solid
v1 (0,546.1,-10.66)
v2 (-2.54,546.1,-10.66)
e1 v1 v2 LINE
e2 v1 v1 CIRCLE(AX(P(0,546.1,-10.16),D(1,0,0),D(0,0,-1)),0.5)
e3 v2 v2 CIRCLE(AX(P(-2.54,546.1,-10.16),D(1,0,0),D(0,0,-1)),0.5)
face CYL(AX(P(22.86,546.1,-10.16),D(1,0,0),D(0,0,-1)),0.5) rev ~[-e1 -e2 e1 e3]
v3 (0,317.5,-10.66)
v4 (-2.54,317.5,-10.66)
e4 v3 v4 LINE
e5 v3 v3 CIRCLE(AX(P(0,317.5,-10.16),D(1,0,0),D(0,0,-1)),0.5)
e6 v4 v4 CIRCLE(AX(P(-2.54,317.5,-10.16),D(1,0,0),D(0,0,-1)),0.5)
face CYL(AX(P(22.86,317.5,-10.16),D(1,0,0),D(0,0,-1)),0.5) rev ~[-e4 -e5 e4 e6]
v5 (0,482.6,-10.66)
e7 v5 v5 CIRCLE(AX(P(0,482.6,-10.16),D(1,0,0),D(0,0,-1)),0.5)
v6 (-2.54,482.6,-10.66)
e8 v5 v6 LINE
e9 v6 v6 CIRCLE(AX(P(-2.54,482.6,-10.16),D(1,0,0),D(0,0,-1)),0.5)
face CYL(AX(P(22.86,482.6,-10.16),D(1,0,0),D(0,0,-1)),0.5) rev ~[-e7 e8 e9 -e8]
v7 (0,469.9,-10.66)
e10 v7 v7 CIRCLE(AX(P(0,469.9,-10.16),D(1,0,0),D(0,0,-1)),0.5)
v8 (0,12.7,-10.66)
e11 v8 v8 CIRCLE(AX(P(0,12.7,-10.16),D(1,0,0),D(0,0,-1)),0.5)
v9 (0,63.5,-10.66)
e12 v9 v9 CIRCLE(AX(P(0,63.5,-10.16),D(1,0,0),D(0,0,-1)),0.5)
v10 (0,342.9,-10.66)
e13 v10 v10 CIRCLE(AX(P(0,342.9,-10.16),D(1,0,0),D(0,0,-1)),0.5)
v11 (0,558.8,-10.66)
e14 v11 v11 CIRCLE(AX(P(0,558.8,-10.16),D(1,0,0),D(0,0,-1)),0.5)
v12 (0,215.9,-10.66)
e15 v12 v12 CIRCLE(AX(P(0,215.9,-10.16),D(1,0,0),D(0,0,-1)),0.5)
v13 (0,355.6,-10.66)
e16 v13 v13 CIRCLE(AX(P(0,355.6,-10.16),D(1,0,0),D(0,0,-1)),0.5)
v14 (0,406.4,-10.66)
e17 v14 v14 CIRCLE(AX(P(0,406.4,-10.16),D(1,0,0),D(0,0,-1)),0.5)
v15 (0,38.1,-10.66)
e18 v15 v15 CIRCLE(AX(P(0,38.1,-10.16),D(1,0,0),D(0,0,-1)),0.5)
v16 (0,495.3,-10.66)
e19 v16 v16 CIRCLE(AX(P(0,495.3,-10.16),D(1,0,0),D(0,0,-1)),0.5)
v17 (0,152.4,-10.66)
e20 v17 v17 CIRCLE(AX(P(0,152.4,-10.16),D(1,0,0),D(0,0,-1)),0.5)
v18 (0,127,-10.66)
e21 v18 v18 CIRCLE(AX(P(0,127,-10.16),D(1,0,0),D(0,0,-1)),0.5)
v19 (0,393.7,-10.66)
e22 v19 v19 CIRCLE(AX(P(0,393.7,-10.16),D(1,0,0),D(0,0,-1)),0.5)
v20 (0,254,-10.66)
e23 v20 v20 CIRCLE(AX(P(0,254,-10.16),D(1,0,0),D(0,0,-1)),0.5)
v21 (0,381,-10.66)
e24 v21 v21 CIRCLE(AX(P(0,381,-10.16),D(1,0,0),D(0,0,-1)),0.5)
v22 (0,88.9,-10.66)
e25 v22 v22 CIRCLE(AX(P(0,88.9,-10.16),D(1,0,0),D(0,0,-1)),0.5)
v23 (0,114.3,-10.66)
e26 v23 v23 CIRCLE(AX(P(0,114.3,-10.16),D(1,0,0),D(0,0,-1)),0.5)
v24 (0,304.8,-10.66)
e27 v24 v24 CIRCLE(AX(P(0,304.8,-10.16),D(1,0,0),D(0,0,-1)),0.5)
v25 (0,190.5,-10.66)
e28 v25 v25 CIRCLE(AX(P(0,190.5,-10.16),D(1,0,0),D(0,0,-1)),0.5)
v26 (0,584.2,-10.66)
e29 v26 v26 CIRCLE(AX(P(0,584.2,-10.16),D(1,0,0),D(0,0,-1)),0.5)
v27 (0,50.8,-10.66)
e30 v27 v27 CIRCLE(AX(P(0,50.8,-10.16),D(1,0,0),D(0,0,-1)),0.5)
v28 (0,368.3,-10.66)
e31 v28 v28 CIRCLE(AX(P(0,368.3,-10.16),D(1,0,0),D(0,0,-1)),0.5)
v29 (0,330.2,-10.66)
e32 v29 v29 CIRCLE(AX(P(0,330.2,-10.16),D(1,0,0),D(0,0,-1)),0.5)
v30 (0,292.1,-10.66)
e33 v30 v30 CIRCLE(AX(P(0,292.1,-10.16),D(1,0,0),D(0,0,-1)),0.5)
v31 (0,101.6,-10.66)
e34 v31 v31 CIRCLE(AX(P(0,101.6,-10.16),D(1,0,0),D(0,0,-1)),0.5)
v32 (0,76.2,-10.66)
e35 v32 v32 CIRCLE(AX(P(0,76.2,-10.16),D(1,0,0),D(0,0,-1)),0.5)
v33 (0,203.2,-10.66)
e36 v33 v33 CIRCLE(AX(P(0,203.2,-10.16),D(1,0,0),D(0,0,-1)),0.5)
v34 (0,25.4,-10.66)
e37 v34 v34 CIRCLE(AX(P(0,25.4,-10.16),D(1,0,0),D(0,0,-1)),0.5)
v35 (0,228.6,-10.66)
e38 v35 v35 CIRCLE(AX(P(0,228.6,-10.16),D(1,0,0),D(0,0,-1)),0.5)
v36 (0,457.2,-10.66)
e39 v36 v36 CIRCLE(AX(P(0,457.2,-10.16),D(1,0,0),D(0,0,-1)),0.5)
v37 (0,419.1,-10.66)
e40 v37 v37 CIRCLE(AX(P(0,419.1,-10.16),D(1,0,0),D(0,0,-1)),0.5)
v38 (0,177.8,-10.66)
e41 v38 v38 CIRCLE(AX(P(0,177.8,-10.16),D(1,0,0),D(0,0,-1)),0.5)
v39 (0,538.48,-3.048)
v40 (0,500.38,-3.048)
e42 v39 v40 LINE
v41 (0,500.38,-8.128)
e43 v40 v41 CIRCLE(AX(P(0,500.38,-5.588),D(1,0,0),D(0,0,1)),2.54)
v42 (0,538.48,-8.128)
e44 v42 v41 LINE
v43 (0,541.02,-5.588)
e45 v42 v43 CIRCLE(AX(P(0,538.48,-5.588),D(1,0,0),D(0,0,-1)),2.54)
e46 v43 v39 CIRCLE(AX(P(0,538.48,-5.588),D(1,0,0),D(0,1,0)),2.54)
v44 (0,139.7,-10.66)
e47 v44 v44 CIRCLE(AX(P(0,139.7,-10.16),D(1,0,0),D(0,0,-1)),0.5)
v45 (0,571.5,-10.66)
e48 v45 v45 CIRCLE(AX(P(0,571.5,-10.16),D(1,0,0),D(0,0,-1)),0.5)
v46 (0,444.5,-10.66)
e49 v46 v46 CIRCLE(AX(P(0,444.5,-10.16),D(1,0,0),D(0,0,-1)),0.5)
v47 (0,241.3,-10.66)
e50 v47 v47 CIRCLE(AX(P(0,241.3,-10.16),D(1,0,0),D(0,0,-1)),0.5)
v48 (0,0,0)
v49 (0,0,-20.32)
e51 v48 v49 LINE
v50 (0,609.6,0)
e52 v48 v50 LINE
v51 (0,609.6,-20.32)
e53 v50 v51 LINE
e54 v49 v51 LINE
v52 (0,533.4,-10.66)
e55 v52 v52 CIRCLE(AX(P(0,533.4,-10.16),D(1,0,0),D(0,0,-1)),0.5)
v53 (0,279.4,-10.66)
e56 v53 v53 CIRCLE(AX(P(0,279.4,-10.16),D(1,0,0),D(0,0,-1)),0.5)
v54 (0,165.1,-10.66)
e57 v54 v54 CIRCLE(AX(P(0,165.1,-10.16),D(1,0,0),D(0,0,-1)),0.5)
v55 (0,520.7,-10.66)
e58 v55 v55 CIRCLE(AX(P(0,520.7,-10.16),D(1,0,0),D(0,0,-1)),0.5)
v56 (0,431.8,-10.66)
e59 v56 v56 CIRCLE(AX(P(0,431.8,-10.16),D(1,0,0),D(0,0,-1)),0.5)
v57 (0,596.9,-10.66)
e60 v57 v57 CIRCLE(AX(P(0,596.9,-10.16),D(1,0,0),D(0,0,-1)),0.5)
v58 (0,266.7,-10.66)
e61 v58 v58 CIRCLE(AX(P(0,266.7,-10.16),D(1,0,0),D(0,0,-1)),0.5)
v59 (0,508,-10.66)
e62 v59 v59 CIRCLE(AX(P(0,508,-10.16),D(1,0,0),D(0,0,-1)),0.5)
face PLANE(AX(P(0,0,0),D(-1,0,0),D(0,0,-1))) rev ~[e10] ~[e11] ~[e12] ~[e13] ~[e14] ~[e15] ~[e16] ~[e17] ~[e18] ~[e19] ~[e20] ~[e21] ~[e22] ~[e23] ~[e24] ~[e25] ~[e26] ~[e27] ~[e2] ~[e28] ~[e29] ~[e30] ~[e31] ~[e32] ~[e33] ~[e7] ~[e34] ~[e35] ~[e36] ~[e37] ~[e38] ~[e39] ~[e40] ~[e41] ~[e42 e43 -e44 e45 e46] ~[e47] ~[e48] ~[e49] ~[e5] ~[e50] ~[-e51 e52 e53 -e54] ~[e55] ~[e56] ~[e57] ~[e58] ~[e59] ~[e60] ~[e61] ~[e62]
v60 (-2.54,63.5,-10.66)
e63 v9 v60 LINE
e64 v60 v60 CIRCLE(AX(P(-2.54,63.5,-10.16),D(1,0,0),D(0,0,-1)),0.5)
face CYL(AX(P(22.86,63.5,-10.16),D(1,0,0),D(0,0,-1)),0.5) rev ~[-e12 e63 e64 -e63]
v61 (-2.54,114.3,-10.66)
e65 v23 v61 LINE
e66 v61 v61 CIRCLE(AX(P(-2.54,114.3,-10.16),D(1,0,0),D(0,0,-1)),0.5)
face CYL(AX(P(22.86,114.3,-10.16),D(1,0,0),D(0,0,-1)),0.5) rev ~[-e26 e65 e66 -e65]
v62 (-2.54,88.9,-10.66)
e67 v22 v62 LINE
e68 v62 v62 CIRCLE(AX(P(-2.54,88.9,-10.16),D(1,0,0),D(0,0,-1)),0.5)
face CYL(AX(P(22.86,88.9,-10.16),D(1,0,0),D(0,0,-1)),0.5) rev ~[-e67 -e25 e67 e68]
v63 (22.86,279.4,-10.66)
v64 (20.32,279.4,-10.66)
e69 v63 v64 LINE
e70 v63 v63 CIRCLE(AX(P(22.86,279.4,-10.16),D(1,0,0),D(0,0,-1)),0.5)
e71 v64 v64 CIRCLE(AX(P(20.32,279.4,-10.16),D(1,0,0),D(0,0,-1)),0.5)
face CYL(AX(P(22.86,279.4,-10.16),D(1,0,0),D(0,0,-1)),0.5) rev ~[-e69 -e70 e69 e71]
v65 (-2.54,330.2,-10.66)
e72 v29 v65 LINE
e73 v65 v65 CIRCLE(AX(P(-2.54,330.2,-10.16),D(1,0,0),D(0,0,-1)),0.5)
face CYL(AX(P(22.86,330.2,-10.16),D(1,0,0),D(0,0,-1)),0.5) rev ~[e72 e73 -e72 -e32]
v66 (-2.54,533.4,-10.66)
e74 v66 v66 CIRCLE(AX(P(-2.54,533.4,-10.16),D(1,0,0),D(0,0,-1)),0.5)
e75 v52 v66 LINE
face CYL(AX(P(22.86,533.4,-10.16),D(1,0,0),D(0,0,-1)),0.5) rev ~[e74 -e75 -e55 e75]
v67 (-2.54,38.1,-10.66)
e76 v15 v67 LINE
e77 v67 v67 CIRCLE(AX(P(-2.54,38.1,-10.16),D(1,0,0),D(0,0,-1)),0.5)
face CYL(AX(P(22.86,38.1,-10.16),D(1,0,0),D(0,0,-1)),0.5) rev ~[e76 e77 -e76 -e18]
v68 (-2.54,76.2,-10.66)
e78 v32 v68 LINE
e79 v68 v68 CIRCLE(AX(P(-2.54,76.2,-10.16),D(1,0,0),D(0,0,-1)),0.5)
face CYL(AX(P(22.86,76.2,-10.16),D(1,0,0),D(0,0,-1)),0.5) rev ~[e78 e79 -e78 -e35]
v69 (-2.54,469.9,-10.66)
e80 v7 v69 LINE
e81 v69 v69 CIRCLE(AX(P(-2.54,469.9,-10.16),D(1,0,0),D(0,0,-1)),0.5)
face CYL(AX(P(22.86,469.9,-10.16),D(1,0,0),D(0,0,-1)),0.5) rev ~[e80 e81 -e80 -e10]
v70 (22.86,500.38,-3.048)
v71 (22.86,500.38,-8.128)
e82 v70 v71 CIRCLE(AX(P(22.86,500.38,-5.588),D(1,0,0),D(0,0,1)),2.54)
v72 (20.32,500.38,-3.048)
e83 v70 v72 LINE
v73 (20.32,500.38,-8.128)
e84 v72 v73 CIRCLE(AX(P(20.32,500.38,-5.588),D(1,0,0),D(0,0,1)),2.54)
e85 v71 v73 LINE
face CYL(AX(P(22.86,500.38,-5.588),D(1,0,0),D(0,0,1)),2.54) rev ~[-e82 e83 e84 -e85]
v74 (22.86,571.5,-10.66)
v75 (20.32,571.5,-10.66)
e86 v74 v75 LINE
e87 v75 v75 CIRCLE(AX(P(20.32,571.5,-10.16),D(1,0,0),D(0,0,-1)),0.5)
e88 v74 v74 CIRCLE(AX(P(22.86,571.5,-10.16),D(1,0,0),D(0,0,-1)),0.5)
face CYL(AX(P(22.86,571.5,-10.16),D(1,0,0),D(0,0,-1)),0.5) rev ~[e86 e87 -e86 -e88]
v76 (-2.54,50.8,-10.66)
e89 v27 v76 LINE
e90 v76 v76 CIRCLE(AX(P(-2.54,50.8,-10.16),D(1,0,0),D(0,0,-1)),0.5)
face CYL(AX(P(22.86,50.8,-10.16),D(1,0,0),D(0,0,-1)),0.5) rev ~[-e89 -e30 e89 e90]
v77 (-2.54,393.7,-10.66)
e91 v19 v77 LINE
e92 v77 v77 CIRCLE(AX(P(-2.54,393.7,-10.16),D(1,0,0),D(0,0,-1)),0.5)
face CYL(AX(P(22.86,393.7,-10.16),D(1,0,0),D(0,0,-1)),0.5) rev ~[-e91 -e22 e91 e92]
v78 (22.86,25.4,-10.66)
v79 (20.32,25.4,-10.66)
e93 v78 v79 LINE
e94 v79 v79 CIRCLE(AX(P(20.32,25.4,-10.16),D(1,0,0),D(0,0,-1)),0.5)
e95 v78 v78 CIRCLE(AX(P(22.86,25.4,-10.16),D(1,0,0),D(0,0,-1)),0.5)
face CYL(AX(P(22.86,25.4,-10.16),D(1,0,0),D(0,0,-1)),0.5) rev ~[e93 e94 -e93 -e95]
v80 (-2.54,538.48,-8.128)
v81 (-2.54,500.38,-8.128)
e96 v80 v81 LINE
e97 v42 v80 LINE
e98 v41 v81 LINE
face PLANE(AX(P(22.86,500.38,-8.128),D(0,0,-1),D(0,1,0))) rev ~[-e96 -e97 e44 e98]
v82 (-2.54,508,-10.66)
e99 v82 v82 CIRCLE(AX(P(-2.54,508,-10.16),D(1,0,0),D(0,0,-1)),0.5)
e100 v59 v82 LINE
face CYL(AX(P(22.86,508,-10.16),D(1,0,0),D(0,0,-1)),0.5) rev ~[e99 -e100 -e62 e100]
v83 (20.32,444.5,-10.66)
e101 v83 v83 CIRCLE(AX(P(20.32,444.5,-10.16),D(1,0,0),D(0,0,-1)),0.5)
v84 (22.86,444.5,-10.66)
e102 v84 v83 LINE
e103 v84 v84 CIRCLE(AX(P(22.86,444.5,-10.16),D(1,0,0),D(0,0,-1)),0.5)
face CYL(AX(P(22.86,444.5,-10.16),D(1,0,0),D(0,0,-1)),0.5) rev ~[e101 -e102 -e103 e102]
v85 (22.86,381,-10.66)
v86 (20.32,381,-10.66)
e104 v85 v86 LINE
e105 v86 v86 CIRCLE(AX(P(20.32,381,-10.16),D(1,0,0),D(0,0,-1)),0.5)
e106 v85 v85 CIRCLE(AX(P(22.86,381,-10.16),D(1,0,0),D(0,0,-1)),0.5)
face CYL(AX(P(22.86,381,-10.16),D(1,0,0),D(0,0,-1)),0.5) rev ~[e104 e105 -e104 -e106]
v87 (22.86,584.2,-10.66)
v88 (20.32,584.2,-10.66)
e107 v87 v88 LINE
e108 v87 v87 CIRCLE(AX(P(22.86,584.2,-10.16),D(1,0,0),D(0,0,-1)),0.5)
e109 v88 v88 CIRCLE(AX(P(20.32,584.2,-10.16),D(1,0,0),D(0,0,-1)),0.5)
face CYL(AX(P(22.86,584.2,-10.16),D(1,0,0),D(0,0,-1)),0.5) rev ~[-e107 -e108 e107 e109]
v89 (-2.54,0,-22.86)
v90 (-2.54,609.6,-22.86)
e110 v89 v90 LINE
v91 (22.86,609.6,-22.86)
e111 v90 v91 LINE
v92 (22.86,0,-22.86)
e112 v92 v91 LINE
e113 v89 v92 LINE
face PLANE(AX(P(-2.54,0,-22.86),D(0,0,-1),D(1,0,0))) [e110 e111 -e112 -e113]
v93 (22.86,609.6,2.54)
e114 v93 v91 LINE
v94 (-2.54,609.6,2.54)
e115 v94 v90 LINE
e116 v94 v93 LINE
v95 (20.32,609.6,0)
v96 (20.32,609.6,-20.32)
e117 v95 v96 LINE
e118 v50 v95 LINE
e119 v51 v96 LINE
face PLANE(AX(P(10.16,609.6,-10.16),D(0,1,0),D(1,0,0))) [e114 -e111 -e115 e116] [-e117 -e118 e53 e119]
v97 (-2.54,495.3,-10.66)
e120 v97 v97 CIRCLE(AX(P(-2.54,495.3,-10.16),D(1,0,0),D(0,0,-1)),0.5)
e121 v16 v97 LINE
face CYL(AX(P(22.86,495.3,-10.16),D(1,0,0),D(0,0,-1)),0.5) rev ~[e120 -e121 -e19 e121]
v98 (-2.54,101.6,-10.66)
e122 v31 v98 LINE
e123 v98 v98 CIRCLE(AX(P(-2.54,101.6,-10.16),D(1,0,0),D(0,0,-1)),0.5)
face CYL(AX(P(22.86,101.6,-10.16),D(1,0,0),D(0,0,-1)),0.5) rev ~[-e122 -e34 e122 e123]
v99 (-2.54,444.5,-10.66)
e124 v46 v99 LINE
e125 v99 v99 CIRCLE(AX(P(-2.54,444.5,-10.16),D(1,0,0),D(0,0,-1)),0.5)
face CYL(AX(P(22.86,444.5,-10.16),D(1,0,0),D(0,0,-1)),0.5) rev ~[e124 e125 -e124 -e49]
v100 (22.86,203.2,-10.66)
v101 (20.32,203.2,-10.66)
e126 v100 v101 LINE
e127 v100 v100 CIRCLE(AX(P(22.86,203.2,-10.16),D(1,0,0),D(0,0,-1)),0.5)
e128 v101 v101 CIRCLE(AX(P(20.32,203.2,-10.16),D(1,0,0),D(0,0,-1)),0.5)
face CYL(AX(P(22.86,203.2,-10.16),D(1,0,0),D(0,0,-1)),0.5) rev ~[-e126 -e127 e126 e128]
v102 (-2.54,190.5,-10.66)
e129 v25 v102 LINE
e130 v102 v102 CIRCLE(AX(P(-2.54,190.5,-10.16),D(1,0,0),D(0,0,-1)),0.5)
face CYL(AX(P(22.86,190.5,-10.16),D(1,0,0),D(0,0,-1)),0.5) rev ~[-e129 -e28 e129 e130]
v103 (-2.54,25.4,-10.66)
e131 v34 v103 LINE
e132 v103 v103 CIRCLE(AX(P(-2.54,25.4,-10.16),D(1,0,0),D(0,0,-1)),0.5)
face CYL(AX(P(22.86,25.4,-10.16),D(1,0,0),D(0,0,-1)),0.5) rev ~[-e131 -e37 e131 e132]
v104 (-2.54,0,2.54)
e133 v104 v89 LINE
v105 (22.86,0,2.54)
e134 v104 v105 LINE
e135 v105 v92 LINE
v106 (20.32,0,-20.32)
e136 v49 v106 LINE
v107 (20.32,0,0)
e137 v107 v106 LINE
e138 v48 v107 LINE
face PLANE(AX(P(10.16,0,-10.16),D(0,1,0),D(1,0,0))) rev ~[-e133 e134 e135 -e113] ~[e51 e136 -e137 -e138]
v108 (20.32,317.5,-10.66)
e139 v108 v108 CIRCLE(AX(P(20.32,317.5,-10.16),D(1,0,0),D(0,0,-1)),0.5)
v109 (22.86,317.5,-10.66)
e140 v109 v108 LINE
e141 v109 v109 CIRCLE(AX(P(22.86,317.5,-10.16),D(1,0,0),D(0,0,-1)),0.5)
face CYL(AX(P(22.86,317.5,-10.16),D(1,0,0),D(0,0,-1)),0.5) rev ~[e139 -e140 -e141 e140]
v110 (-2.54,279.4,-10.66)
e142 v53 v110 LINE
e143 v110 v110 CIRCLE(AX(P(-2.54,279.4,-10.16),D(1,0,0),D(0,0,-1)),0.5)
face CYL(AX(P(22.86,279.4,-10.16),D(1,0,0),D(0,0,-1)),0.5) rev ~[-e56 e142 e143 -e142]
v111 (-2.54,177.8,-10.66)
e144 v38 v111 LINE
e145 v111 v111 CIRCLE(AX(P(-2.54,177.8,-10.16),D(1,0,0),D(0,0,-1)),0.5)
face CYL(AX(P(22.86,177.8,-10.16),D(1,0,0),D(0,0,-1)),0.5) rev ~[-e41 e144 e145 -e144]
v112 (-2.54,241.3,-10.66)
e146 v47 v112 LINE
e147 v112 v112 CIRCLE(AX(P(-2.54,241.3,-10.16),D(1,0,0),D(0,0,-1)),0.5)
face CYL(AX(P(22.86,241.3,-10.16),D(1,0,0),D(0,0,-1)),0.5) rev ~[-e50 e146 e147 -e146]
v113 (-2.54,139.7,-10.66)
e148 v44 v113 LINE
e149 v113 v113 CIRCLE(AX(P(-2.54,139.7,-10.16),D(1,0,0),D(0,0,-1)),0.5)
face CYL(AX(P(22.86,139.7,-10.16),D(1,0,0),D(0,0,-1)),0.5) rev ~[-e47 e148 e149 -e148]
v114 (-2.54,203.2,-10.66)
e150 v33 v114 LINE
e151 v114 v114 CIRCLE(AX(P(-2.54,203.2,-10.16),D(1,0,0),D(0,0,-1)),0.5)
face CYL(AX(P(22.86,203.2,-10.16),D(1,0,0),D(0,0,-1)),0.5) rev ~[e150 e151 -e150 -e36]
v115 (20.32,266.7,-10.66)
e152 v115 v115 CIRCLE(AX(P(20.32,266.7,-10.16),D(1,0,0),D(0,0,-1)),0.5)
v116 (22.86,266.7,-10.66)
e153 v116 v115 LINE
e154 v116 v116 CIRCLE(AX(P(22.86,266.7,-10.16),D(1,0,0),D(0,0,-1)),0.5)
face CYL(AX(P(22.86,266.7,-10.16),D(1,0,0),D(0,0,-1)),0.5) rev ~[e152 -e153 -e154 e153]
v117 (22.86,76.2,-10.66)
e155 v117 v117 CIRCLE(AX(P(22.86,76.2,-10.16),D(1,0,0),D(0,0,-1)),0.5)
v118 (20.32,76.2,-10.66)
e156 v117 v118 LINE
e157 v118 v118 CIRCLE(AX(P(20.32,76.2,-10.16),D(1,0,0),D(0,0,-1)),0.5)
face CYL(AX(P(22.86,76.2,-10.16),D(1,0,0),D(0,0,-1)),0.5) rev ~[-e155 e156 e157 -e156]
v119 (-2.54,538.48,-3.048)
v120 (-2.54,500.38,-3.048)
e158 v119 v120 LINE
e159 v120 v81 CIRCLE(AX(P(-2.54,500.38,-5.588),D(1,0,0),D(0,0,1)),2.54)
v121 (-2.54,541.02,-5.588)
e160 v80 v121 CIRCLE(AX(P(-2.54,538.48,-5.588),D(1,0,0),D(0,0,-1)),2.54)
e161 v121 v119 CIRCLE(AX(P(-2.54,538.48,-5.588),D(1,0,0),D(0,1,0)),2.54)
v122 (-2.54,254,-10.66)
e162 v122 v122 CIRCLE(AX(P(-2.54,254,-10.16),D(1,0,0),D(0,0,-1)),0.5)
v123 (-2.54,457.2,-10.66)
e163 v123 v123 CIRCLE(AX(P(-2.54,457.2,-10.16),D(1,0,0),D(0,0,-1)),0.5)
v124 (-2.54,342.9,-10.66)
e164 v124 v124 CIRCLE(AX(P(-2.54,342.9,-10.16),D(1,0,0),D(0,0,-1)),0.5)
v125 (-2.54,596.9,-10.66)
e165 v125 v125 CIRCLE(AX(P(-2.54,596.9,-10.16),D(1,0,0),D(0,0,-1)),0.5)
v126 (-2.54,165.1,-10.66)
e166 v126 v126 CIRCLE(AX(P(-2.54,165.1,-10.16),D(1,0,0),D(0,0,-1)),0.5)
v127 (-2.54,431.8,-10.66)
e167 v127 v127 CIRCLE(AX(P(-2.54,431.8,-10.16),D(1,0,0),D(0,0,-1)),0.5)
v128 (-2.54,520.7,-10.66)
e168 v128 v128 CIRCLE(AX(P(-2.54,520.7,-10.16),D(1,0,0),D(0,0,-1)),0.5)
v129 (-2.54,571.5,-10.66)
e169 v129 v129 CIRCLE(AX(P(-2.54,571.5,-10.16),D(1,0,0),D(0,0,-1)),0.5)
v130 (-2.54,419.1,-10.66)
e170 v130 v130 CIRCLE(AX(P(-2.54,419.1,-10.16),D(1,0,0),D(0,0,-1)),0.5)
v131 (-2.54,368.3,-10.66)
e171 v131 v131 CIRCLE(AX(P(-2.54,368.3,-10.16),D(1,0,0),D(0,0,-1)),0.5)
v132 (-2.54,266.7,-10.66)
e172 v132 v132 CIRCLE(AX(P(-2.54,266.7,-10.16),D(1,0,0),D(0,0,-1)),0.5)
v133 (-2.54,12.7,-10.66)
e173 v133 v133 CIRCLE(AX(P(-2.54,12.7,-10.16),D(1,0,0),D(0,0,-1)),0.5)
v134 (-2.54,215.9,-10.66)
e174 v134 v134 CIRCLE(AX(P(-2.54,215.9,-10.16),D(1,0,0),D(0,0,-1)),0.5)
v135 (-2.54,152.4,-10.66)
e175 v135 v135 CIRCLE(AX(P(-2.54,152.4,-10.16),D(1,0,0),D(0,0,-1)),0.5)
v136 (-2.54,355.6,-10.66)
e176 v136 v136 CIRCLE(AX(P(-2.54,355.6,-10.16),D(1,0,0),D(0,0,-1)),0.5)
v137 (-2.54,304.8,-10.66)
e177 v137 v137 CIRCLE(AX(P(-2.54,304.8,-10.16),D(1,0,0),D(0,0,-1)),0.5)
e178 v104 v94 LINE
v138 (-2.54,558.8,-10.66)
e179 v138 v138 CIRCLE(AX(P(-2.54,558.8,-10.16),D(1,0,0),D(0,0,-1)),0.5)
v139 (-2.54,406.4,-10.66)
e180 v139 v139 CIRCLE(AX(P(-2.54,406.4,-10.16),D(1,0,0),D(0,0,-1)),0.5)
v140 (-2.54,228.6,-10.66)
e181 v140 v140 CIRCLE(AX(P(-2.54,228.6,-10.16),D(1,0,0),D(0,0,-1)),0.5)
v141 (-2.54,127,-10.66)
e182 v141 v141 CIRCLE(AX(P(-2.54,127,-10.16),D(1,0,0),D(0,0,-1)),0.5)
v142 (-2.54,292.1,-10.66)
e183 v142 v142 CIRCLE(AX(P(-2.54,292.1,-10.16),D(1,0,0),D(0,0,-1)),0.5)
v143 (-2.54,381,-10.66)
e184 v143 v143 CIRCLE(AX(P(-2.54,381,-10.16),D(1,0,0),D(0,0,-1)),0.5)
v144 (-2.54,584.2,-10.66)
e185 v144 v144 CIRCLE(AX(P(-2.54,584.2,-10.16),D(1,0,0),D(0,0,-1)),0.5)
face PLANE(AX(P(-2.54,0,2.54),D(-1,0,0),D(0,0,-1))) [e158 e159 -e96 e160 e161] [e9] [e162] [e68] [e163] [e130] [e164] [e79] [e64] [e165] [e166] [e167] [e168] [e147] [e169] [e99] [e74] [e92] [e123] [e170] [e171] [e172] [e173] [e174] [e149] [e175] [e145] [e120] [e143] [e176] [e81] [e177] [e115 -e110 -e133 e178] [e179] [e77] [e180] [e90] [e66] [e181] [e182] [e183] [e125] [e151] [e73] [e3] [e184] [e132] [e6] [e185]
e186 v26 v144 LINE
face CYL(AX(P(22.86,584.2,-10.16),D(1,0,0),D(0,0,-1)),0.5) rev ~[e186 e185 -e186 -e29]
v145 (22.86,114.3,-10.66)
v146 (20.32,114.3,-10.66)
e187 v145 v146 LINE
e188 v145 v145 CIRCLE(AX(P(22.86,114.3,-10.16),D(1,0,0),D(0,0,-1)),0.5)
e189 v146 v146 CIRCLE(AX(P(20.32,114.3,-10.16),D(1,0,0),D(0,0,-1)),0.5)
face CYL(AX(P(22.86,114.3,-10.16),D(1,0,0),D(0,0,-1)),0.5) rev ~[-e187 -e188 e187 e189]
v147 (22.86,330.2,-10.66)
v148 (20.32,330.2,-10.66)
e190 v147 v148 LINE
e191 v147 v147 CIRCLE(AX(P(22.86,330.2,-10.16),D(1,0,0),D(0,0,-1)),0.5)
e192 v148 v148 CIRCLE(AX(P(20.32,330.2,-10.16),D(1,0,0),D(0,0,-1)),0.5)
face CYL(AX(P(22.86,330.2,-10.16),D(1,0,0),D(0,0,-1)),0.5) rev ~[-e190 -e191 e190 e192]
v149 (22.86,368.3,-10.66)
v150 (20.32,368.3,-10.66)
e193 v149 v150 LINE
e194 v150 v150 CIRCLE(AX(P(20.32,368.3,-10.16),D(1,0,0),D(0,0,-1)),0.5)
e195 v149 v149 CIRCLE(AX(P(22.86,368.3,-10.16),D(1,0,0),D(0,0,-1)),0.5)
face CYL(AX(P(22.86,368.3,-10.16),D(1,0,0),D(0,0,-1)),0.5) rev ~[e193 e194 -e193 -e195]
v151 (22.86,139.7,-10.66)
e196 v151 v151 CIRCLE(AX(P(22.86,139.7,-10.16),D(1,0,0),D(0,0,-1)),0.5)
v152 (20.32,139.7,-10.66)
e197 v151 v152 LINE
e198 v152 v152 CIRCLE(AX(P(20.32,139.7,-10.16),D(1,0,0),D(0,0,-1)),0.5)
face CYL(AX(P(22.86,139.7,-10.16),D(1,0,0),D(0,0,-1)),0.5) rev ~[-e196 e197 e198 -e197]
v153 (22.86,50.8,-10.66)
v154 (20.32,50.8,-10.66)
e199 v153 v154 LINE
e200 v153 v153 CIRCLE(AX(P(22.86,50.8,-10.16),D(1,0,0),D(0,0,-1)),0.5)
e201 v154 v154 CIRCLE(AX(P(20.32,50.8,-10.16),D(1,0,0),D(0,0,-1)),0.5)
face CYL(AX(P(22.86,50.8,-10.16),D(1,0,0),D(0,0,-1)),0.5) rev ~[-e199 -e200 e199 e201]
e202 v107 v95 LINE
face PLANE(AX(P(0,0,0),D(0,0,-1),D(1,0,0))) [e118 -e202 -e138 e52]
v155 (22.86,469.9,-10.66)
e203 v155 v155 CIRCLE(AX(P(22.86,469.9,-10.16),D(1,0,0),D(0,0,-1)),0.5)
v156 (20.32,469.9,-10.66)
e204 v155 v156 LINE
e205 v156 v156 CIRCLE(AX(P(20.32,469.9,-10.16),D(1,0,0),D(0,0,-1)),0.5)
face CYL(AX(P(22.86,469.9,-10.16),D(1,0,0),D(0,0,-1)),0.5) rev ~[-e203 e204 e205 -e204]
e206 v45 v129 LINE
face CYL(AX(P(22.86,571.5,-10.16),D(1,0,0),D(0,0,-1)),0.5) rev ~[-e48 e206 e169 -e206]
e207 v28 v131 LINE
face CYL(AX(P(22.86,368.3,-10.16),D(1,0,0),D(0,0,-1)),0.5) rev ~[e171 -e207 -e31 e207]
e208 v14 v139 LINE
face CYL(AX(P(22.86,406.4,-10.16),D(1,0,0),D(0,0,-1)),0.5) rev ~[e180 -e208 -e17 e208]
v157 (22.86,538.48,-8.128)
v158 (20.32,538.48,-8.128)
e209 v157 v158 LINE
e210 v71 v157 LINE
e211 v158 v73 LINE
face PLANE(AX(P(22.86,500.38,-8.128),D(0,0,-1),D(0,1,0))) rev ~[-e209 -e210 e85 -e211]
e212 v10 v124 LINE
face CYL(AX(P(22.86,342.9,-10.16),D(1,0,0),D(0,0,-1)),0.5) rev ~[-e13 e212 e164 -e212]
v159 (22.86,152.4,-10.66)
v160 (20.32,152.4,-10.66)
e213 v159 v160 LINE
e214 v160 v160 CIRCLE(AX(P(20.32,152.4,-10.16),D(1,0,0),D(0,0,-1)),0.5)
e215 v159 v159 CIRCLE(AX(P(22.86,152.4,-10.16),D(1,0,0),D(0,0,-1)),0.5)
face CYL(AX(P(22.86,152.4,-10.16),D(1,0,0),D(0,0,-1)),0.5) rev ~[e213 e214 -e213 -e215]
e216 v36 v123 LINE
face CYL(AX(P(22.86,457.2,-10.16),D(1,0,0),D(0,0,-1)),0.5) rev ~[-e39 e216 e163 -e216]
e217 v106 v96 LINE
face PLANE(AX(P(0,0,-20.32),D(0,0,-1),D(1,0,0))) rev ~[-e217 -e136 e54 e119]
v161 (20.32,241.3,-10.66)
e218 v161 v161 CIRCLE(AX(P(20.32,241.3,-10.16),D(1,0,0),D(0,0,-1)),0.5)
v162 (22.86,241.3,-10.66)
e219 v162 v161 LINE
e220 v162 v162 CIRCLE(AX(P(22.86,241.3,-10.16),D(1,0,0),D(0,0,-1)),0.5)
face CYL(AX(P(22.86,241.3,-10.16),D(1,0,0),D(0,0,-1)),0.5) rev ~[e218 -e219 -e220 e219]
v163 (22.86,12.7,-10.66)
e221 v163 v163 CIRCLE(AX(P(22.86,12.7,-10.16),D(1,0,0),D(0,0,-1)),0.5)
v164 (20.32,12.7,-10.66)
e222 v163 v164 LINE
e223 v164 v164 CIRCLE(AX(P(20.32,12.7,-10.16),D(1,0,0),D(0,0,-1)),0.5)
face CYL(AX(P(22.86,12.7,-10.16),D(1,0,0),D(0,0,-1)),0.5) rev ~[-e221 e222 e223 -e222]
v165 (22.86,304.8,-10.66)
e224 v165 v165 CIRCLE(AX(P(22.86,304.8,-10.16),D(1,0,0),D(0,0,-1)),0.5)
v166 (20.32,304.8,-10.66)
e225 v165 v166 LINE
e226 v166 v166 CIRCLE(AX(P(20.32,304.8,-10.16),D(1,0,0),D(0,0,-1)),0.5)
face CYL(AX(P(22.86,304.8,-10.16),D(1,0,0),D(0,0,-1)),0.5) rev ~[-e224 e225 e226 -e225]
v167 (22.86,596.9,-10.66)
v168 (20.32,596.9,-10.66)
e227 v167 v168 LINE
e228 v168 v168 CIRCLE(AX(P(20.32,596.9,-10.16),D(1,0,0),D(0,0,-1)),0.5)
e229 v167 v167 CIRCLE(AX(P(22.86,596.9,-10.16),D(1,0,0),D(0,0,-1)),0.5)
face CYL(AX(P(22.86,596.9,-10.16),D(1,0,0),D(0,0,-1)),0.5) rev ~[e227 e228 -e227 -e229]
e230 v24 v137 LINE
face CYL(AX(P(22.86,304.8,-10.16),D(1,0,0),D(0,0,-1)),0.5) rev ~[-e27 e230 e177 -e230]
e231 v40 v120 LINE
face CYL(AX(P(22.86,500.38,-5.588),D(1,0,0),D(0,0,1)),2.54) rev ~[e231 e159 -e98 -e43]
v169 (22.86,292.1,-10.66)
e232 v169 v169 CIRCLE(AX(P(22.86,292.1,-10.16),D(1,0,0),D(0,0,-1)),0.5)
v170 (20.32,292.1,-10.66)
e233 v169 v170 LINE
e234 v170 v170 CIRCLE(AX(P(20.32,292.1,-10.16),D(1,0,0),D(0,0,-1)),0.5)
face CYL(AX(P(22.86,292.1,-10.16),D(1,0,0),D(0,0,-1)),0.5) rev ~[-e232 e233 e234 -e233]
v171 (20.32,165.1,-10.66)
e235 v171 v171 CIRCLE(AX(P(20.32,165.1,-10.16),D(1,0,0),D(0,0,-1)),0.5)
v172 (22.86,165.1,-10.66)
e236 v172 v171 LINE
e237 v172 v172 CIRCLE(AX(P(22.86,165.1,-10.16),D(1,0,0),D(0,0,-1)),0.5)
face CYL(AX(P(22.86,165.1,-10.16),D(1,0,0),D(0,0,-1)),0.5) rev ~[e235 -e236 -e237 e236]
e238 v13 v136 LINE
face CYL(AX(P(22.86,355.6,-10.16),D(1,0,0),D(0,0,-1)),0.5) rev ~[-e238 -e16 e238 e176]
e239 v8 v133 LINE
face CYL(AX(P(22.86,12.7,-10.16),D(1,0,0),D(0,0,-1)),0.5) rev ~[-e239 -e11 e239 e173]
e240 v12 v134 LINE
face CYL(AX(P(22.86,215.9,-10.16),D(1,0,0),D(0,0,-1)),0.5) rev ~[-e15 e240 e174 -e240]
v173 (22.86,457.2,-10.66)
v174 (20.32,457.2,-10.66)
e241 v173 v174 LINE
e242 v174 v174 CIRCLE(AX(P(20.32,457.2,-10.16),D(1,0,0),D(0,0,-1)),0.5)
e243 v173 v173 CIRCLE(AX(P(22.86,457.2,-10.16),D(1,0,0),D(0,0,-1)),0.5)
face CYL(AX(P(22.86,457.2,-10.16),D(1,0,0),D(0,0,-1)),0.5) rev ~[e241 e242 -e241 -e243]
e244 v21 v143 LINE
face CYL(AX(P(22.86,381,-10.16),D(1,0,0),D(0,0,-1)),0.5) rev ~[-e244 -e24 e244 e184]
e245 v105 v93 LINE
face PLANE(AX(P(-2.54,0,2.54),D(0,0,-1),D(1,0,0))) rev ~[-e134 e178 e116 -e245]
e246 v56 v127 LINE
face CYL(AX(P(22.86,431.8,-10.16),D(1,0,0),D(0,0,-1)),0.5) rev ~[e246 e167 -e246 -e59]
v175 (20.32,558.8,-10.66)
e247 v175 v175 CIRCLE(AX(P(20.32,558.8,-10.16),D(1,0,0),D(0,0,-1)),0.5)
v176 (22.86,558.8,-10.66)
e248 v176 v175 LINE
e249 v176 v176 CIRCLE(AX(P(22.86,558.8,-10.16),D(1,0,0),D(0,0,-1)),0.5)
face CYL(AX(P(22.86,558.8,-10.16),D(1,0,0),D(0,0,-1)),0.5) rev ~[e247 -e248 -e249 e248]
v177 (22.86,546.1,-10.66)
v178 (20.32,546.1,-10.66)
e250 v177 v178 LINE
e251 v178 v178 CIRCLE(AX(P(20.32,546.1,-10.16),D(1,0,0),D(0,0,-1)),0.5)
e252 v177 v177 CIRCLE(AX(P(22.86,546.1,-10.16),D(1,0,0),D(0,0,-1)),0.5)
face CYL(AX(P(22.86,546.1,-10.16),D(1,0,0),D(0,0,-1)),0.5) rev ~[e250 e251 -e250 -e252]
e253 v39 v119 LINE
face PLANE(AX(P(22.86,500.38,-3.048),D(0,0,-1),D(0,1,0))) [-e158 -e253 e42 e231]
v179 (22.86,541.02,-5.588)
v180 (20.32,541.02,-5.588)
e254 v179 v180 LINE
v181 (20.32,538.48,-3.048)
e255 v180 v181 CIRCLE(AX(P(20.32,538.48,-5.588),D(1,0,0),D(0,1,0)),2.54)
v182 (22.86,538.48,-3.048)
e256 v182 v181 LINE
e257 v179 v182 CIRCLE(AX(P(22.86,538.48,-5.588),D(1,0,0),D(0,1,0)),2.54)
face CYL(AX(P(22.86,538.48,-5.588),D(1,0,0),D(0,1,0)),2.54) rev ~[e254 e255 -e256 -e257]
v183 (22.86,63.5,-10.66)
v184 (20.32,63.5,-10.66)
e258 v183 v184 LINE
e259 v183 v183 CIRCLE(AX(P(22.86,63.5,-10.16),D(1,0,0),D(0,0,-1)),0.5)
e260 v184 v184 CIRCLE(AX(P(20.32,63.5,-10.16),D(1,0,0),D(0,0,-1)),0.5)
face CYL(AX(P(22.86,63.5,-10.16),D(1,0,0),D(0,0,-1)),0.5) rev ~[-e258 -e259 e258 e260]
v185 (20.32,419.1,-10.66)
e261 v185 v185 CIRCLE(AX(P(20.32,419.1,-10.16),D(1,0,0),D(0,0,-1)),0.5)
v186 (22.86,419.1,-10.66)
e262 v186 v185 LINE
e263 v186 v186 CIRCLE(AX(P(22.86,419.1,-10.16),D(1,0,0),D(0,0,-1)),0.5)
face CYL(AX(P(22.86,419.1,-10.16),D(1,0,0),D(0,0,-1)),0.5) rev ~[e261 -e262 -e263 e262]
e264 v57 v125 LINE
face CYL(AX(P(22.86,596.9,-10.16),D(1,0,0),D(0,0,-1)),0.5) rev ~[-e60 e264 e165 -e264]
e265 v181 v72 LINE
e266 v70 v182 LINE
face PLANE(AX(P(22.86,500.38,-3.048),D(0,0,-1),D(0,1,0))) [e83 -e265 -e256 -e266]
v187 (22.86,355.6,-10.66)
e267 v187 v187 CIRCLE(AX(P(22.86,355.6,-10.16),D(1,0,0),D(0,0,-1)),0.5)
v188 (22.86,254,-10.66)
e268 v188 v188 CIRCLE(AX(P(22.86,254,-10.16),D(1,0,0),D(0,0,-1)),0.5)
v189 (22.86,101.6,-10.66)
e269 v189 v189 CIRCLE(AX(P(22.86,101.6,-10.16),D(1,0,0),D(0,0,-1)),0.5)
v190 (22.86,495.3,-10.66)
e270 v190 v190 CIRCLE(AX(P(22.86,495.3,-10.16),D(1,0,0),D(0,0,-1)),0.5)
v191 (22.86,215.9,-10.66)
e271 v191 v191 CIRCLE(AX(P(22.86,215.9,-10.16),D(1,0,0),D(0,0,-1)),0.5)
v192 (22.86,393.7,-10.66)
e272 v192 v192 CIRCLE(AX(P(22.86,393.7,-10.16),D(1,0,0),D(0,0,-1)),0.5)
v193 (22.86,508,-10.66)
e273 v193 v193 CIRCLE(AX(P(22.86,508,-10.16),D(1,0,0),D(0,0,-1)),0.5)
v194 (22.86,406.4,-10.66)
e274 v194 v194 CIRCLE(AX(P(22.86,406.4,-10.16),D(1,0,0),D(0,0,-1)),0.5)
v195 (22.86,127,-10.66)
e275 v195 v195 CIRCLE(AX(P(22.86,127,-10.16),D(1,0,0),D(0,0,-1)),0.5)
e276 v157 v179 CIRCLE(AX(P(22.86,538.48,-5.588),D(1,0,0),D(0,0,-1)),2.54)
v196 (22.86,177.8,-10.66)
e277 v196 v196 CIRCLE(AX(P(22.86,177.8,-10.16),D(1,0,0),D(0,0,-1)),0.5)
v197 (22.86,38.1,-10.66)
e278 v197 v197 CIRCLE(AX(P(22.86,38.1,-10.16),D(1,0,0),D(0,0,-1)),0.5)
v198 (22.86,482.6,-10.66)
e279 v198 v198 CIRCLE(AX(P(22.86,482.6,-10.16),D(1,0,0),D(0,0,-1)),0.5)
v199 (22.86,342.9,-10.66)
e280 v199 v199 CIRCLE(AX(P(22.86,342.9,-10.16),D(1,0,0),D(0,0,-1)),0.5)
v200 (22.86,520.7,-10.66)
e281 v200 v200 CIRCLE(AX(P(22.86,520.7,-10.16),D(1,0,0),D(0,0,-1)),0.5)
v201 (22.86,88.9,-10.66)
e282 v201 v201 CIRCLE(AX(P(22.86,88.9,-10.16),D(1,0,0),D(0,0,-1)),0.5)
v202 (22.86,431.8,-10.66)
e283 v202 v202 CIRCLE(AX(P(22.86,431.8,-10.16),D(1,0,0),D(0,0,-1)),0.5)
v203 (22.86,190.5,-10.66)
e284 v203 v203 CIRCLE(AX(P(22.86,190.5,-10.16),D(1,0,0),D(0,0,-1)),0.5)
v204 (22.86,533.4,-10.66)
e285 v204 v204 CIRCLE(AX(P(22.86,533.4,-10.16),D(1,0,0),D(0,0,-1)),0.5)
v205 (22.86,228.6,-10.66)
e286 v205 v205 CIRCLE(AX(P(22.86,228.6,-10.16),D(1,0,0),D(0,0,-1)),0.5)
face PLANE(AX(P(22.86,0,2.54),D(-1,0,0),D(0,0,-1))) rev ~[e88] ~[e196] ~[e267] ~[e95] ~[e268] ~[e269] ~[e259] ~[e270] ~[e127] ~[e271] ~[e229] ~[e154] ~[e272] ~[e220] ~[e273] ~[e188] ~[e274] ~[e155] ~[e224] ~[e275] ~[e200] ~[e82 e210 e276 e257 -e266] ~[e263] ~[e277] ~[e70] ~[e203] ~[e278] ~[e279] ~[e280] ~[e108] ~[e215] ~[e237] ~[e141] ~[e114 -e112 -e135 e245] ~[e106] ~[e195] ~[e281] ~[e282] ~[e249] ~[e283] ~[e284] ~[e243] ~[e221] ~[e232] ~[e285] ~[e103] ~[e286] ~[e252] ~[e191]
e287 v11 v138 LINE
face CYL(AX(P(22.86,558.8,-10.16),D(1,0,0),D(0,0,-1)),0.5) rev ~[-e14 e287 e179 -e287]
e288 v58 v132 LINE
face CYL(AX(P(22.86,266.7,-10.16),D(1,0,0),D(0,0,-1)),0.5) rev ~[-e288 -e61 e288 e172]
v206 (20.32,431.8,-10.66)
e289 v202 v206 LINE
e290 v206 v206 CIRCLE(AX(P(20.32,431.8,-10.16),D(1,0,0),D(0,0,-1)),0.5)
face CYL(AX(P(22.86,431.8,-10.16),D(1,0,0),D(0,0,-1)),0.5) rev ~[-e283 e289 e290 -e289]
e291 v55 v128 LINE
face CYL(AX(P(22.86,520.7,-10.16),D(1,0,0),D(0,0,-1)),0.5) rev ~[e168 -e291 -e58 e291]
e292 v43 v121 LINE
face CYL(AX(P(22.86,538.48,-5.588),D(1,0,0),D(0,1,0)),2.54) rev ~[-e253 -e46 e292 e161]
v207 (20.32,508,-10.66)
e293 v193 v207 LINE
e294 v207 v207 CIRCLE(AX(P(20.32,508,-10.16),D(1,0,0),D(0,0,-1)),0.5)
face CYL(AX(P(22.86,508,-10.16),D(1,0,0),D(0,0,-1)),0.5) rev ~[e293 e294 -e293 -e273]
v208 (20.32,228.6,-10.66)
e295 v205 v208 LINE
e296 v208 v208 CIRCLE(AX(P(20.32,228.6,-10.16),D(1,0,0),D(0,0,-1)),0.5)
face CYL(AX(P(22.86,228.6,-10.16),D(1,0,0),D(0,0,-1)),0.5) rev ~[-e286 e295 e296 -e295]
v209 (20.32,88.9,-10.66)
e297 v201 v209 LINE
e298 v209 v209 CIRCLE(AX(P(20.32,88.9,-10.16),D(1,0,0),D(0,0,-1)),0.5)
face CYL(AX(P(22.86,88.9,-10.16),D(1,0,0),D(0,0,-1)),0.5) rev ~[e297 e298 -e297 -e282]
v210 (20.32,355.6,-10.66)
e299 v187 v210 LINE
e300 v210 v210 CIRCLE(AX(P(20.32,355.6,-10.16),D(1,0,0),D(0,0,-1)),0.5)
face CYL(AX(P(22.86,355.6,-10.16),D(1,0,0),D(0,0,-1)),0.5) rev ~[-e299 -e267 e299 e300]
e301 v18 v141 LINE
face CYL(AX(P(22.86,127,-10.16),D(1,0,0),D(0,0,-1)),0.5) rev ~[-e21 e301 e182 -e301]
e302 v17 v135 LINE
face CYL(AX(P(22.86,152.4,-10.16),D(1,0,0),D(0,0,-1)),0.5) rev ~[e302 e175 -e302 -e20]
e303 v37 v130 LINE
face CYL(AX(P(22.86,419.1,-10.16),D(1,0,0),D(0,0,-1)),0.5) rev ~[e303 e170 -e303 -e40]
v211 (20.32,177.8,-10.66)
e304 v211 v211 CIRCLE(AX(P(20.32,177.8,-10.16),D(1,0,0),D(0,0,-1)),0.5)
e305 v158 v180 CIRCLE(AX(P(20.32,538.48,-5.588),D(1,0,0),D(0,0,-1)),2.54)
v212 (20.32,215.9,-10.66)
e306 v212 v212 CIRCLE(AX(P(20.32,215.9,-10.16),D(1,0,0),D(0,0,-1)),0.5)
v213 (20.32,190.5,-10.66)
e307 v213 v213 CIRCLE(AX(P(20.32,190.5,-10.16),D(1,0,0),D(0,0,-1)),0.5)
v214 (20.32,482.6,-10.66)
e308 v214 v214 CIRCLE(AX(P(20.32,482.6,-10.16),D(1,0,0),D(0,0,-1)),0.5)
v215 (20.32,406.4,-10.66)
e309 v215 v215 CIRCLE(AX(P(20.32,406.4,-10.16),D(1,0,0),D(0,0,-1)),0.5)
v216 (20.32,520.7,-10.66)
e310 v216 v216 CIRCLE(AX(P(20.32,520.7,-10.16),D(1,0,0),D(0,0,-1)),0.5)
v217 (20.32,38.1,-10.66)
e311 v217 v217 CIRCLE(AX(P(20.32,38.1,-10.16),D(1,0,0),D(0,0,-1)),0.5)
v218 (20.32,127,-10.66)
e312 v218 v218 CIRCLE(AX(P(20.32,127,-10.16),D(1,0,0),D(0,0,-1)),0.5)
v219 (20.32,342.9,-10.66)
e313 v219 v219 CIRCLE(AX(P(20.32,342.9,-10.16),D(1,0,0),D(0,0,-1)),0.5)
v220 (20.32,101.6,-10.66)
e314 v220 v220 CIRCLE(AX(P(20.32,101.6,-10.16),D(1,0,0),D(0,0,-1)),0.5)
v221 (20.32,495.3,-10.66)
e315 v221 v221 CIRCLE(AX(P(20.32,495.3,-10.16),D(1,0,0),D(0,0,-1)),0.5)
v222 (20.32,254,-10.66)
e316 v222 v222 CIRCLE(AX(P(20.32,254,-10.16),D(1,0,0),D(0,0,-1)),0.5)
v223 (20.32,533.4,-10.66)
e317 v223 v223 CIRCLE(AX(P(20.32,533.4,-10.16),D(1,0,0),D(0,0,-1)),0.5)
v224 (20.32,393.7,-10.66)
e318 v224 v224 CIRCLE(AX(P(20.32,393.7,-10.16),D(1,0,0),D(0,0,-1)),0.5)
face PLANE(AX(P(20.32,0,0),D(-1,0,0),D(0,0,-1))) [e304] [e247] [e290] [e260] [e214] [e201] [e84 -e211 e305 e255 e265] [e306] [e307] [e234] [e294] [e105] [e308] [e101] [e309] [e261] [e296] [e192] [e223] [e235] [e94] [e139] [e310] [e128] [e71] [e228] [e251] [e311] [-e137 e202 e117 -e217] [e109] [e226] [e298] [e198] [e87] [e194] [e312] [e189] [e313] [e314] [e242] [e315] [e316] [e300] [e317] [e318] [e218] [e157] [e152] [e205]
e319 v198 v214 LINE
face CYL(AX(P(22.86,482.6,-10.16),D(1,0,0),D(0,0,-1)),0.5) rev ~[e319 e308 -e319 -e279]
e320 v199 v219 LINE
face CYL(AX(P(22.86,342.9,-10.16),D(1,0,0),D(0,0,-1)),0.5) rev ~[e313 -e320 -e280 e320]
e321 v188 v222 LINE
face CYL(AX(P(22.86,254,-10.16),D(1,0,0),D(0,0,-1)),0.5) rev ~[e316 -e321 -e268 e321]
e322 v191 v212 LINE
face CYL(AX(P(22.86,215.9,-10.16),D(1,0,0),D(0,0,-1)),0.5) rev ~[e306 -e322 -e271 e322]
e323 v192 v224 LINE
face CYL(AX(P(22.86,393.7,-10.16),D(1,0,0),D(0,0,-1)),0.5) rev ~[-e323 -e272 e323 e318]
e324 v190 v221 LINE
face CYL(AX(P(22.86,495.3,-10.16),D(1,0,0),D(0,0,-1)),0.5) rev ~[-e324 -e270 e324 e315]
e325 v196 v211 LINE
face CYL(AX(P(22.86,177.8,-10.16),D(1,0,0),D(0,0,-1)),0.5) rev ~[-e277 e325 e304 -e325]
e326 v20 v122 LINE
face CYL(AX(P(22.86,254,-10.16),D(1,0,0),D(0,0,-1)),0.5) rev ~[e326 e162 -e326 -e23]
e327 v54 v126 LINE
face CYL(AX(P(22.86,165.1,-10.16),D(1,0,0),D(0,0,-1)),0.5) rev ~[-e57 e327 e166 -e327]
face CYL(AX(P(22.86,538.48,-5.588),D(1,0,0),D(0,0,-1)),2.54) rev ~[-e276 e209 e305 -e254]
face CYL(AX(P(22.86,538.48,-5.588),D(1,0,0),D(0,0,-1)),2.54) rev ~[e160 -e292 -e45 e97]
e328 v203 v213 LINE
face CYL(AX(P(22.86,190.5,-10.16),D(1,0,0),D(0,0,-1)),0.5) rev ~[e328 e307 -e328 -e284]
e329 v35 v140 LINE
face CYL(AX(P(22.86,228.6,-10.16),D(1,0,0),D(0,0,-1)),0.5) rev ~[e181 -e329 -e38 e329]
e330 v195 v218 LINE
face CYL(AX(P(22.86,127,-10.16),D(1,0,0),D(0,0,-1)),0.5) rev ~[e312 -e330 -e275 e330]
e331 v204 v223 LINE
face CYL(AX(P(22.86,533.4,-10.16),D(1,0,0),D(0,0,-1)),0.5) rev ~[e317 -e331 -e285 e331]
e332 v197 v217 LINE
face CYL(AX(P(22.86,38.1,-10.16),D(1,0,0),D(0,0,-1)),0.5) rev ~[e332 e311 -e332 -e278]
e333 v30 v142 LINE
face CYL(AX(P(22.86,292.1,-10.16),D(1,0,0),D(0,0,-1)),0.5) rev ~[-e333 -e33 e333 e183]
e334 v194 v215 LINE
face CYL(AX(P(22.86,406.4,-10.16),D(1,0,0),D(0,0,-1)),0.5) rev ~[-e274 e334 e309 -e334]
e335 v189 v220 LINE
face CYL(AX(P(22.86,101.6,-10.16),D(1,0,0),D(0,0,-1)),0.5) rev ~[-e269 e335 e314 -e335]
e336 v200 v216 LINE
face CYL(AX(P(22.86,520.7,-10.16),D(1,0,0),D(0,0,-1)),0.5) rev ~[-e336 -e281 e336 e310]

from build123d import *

# Parameters (mm, degrees)
SKETCH1_W           = 25.4
SKETCH1_H           = 25.4
SKETCH1_W_2         = 20.32
SKETCH1_H_2         = 20.32
BOSS_EXTRUDE1_DEPTH = 609.6
SKETCH2_R           = 0.5
CUT_EXTRUDE2_DEPTH  = 62.23
SKETCH4_W           = 2.54
SKETCH4_H           = 38.1
CUT_EXTRUDE4_DEPTH  = 111.76


with BuildPart() as part:
    # Sketch1 → Boss-Extrude1 (new body)
    with BuildSketch(Plane(origin=(0, 0, 0), x_dir=(1, 0, 0), z_dir=(0, 1, 0))):
        with Locations((10.16, 10.16)):
            Rectangle(SKETCH1_W, SKETCH1_H)
        with Locations((10.16, 10.16)):
            Rectangle(SKETCH1_W_2, SKETCH1_H_2, mode=Mode.SUBTRACT)
    extrude(amount=BOSS_EXTRUDE1_DEPTH)

    # Sketch2 → Cut-Extrude2 (cut)
    with BuildSketch(Plane(origin=(22.86, 0, 0), x_dir=(0, 0, -1), z_dir=(1, 0, 0))):
        with Locations((10.16, 596.9)):
            Circle(SKETCH2_R)
        with Locations((10.16, 584.2)):
            Circle(SKETCH2_R)
        with Locations((10.16, 571.5)):
            Circle(SKETCH2_R)
        with Locations((10.16, 558.8)):
            Circle(SKETCH2_R)
        with Locations((10.16, 546.1)):
            Circle(SKETCH2_R)
        with Locations((10.16, 533.4)):
            Circle(SKETCH2_R)
        with Locations((10.16, 520.7)):
            Circle(SKETCH2_R)
        with Locations((10.16, 508)):
            Circle(SKETCH2_R)
        with Locations((10.16, 495.3)):
            Circle(SKETCH2_R)
        with Locations((10.16, 482.6)):
            Circle(SKETCH2_R)
        with Locations((10.16, 469.9)):
            Circle(SKETCH2_R)
        with Locations((10.16, 457.2)):
            Circle(SKETCH2_R)
        with Locations((10.16, 444.5)):
            Circle(SKETCH2_R)
        with Locations((10.16, 431.8)):
            Circle(SKETCH2_R)
        with Locations((10.16, 419.1)):
            Circle(SKETCH2_R)
        with Locations((10.16, 406.4)):
            Circle(SKETCH2_R)
        with Locations((10.16, 393.7)):
            Circle(SKETCH2_R)
        with Locations((10.16, 381)):
            Circle(SKETCH2_R)
        with Locations((10.16, 368.3)):
            Circle(SKETCH2_R)
        with Locations((10.16, 355.6)):
            Circle(SKETCH2_R)
        with Locations((10.16, 342.9)):
            Circle(SKETCH2_R)
        with Locations((10.16, 330.2)):
            Circle(SKETCH2_R)
        with Locations((10.16, 317.5)):
            Circle(SKETCH2_R)
        with Locations((10.16, 304.8)):
            Circle(SKETCH2_R)
        with Locations((10.16, 292.1)):
            Circle(SKETCH2_R)
        with Locations((10.16, 279.4)):
            Circle(SKETCH2_R)
        with Locations((10.16, 266.7)):
            Circle(SKETCH2_R)
        with Locations((10.16, 254)):
            Circle(SKETCH2_R)
        with Locations((10.16, 241.3)):
            Circle(SKETCH2_R)
        with Locations((10.16, 228.6)):
            Circle(SKETCH2_R)
        with Locations((10.16, 215.9)):
            Circle(SKETCH2_R)
        with Locations((10.16, 203.2)):
            Circle(SKETCH2_R)
        with Locations((10.16, 190.5)):
            Circle(SKETCH2_R)
        with Locations((10.16, 177.8)):
            Circle(SKETCH2_R)
        with Locations((10.16, 165.1)):
            Circle(SKETCH2_R)
        with Locations((10.16, 152.4)):
            Circle(SKETCH2_R)
        with Locations((10.16, 139.7)):
            Circle(SKETCH2_R)
        with Locations((10.16, 127)):
            Circle(SKETCH2_R)
        with Locations((10.16, 114.3)):
            Circle(SKETCH2_R)
        with Locations((10.16, 101.6)):
            Circle(SKETCH2_R)
        with Locations((10.16, 88.9)):
            Circle(SKETCH2_R)
        with Locations((10.16, 76.2)):
            Circle(SKETCH2_R)
        with Locations((10.16, 63.5)):
            Circle(SKETCH2_R)
        with Locations((10.16, 50.8)):
            Circle(SKETCH2_R)
        with Locations((10.16, 38.1)):
            Circle(SKETCH2_R)
        with Locations((10.16, 25.4)):
            Circle(SKETCH2_R)
        with Locations((10.16, 12.7)):
            Circle(SKETCH2_R)
    extrude(amount=-CUT_EXTRUDE2_DEPTH, mode=Mode.SUBTRACT)

    # Sketch4 → Cut-Extrude4 (cut)
    with BuildSketch(Plane(origin=(22.86, 0, 0), x_dir=(0, 0, -1), z_dir=(1, 0, 0))):
        with BuildLine():
            Line((5.588, 538.48), (8.128, 538.48))
            ThreePointArc((8.128, 538.48), (7.384051224, 540.276051224), (5.588, 541.02))
            Line((5.588, 541.02), (5.588, 538.48))
        make_face()
        with BuildLine():
            Line((3.048, 538.48), (5.588, 538.48))
            Line((5.588, 538.48), (5.588, 541.02))
            ThreePointArc((5.588, 541.02), (3.791948776, 540.276051224), (3.048, 538.48))
        make_face()
        with Locations((4.318, 519.43)):
            Rectangle(SKETCH4_W, SKETCH4_H)
        with BuildLine():
            Line((8.128, 500.38), (8.128, 538.48))
            Line((8.128, 538.48), (5.588, 538.48))
            Line((5.588, 538.48), (5.588, 500.38))
            Line((5.588, 500.38), (3.048, 500.38))
            ThreePointArc((3.048, 500.38), (5.588, 497.84), (8.128, 500.38))
        make_face()
    extrude(amount=-CUT_EXTRUDE4_DEPTH, mode=Mode.SUBTRACT)


solid = part.part
